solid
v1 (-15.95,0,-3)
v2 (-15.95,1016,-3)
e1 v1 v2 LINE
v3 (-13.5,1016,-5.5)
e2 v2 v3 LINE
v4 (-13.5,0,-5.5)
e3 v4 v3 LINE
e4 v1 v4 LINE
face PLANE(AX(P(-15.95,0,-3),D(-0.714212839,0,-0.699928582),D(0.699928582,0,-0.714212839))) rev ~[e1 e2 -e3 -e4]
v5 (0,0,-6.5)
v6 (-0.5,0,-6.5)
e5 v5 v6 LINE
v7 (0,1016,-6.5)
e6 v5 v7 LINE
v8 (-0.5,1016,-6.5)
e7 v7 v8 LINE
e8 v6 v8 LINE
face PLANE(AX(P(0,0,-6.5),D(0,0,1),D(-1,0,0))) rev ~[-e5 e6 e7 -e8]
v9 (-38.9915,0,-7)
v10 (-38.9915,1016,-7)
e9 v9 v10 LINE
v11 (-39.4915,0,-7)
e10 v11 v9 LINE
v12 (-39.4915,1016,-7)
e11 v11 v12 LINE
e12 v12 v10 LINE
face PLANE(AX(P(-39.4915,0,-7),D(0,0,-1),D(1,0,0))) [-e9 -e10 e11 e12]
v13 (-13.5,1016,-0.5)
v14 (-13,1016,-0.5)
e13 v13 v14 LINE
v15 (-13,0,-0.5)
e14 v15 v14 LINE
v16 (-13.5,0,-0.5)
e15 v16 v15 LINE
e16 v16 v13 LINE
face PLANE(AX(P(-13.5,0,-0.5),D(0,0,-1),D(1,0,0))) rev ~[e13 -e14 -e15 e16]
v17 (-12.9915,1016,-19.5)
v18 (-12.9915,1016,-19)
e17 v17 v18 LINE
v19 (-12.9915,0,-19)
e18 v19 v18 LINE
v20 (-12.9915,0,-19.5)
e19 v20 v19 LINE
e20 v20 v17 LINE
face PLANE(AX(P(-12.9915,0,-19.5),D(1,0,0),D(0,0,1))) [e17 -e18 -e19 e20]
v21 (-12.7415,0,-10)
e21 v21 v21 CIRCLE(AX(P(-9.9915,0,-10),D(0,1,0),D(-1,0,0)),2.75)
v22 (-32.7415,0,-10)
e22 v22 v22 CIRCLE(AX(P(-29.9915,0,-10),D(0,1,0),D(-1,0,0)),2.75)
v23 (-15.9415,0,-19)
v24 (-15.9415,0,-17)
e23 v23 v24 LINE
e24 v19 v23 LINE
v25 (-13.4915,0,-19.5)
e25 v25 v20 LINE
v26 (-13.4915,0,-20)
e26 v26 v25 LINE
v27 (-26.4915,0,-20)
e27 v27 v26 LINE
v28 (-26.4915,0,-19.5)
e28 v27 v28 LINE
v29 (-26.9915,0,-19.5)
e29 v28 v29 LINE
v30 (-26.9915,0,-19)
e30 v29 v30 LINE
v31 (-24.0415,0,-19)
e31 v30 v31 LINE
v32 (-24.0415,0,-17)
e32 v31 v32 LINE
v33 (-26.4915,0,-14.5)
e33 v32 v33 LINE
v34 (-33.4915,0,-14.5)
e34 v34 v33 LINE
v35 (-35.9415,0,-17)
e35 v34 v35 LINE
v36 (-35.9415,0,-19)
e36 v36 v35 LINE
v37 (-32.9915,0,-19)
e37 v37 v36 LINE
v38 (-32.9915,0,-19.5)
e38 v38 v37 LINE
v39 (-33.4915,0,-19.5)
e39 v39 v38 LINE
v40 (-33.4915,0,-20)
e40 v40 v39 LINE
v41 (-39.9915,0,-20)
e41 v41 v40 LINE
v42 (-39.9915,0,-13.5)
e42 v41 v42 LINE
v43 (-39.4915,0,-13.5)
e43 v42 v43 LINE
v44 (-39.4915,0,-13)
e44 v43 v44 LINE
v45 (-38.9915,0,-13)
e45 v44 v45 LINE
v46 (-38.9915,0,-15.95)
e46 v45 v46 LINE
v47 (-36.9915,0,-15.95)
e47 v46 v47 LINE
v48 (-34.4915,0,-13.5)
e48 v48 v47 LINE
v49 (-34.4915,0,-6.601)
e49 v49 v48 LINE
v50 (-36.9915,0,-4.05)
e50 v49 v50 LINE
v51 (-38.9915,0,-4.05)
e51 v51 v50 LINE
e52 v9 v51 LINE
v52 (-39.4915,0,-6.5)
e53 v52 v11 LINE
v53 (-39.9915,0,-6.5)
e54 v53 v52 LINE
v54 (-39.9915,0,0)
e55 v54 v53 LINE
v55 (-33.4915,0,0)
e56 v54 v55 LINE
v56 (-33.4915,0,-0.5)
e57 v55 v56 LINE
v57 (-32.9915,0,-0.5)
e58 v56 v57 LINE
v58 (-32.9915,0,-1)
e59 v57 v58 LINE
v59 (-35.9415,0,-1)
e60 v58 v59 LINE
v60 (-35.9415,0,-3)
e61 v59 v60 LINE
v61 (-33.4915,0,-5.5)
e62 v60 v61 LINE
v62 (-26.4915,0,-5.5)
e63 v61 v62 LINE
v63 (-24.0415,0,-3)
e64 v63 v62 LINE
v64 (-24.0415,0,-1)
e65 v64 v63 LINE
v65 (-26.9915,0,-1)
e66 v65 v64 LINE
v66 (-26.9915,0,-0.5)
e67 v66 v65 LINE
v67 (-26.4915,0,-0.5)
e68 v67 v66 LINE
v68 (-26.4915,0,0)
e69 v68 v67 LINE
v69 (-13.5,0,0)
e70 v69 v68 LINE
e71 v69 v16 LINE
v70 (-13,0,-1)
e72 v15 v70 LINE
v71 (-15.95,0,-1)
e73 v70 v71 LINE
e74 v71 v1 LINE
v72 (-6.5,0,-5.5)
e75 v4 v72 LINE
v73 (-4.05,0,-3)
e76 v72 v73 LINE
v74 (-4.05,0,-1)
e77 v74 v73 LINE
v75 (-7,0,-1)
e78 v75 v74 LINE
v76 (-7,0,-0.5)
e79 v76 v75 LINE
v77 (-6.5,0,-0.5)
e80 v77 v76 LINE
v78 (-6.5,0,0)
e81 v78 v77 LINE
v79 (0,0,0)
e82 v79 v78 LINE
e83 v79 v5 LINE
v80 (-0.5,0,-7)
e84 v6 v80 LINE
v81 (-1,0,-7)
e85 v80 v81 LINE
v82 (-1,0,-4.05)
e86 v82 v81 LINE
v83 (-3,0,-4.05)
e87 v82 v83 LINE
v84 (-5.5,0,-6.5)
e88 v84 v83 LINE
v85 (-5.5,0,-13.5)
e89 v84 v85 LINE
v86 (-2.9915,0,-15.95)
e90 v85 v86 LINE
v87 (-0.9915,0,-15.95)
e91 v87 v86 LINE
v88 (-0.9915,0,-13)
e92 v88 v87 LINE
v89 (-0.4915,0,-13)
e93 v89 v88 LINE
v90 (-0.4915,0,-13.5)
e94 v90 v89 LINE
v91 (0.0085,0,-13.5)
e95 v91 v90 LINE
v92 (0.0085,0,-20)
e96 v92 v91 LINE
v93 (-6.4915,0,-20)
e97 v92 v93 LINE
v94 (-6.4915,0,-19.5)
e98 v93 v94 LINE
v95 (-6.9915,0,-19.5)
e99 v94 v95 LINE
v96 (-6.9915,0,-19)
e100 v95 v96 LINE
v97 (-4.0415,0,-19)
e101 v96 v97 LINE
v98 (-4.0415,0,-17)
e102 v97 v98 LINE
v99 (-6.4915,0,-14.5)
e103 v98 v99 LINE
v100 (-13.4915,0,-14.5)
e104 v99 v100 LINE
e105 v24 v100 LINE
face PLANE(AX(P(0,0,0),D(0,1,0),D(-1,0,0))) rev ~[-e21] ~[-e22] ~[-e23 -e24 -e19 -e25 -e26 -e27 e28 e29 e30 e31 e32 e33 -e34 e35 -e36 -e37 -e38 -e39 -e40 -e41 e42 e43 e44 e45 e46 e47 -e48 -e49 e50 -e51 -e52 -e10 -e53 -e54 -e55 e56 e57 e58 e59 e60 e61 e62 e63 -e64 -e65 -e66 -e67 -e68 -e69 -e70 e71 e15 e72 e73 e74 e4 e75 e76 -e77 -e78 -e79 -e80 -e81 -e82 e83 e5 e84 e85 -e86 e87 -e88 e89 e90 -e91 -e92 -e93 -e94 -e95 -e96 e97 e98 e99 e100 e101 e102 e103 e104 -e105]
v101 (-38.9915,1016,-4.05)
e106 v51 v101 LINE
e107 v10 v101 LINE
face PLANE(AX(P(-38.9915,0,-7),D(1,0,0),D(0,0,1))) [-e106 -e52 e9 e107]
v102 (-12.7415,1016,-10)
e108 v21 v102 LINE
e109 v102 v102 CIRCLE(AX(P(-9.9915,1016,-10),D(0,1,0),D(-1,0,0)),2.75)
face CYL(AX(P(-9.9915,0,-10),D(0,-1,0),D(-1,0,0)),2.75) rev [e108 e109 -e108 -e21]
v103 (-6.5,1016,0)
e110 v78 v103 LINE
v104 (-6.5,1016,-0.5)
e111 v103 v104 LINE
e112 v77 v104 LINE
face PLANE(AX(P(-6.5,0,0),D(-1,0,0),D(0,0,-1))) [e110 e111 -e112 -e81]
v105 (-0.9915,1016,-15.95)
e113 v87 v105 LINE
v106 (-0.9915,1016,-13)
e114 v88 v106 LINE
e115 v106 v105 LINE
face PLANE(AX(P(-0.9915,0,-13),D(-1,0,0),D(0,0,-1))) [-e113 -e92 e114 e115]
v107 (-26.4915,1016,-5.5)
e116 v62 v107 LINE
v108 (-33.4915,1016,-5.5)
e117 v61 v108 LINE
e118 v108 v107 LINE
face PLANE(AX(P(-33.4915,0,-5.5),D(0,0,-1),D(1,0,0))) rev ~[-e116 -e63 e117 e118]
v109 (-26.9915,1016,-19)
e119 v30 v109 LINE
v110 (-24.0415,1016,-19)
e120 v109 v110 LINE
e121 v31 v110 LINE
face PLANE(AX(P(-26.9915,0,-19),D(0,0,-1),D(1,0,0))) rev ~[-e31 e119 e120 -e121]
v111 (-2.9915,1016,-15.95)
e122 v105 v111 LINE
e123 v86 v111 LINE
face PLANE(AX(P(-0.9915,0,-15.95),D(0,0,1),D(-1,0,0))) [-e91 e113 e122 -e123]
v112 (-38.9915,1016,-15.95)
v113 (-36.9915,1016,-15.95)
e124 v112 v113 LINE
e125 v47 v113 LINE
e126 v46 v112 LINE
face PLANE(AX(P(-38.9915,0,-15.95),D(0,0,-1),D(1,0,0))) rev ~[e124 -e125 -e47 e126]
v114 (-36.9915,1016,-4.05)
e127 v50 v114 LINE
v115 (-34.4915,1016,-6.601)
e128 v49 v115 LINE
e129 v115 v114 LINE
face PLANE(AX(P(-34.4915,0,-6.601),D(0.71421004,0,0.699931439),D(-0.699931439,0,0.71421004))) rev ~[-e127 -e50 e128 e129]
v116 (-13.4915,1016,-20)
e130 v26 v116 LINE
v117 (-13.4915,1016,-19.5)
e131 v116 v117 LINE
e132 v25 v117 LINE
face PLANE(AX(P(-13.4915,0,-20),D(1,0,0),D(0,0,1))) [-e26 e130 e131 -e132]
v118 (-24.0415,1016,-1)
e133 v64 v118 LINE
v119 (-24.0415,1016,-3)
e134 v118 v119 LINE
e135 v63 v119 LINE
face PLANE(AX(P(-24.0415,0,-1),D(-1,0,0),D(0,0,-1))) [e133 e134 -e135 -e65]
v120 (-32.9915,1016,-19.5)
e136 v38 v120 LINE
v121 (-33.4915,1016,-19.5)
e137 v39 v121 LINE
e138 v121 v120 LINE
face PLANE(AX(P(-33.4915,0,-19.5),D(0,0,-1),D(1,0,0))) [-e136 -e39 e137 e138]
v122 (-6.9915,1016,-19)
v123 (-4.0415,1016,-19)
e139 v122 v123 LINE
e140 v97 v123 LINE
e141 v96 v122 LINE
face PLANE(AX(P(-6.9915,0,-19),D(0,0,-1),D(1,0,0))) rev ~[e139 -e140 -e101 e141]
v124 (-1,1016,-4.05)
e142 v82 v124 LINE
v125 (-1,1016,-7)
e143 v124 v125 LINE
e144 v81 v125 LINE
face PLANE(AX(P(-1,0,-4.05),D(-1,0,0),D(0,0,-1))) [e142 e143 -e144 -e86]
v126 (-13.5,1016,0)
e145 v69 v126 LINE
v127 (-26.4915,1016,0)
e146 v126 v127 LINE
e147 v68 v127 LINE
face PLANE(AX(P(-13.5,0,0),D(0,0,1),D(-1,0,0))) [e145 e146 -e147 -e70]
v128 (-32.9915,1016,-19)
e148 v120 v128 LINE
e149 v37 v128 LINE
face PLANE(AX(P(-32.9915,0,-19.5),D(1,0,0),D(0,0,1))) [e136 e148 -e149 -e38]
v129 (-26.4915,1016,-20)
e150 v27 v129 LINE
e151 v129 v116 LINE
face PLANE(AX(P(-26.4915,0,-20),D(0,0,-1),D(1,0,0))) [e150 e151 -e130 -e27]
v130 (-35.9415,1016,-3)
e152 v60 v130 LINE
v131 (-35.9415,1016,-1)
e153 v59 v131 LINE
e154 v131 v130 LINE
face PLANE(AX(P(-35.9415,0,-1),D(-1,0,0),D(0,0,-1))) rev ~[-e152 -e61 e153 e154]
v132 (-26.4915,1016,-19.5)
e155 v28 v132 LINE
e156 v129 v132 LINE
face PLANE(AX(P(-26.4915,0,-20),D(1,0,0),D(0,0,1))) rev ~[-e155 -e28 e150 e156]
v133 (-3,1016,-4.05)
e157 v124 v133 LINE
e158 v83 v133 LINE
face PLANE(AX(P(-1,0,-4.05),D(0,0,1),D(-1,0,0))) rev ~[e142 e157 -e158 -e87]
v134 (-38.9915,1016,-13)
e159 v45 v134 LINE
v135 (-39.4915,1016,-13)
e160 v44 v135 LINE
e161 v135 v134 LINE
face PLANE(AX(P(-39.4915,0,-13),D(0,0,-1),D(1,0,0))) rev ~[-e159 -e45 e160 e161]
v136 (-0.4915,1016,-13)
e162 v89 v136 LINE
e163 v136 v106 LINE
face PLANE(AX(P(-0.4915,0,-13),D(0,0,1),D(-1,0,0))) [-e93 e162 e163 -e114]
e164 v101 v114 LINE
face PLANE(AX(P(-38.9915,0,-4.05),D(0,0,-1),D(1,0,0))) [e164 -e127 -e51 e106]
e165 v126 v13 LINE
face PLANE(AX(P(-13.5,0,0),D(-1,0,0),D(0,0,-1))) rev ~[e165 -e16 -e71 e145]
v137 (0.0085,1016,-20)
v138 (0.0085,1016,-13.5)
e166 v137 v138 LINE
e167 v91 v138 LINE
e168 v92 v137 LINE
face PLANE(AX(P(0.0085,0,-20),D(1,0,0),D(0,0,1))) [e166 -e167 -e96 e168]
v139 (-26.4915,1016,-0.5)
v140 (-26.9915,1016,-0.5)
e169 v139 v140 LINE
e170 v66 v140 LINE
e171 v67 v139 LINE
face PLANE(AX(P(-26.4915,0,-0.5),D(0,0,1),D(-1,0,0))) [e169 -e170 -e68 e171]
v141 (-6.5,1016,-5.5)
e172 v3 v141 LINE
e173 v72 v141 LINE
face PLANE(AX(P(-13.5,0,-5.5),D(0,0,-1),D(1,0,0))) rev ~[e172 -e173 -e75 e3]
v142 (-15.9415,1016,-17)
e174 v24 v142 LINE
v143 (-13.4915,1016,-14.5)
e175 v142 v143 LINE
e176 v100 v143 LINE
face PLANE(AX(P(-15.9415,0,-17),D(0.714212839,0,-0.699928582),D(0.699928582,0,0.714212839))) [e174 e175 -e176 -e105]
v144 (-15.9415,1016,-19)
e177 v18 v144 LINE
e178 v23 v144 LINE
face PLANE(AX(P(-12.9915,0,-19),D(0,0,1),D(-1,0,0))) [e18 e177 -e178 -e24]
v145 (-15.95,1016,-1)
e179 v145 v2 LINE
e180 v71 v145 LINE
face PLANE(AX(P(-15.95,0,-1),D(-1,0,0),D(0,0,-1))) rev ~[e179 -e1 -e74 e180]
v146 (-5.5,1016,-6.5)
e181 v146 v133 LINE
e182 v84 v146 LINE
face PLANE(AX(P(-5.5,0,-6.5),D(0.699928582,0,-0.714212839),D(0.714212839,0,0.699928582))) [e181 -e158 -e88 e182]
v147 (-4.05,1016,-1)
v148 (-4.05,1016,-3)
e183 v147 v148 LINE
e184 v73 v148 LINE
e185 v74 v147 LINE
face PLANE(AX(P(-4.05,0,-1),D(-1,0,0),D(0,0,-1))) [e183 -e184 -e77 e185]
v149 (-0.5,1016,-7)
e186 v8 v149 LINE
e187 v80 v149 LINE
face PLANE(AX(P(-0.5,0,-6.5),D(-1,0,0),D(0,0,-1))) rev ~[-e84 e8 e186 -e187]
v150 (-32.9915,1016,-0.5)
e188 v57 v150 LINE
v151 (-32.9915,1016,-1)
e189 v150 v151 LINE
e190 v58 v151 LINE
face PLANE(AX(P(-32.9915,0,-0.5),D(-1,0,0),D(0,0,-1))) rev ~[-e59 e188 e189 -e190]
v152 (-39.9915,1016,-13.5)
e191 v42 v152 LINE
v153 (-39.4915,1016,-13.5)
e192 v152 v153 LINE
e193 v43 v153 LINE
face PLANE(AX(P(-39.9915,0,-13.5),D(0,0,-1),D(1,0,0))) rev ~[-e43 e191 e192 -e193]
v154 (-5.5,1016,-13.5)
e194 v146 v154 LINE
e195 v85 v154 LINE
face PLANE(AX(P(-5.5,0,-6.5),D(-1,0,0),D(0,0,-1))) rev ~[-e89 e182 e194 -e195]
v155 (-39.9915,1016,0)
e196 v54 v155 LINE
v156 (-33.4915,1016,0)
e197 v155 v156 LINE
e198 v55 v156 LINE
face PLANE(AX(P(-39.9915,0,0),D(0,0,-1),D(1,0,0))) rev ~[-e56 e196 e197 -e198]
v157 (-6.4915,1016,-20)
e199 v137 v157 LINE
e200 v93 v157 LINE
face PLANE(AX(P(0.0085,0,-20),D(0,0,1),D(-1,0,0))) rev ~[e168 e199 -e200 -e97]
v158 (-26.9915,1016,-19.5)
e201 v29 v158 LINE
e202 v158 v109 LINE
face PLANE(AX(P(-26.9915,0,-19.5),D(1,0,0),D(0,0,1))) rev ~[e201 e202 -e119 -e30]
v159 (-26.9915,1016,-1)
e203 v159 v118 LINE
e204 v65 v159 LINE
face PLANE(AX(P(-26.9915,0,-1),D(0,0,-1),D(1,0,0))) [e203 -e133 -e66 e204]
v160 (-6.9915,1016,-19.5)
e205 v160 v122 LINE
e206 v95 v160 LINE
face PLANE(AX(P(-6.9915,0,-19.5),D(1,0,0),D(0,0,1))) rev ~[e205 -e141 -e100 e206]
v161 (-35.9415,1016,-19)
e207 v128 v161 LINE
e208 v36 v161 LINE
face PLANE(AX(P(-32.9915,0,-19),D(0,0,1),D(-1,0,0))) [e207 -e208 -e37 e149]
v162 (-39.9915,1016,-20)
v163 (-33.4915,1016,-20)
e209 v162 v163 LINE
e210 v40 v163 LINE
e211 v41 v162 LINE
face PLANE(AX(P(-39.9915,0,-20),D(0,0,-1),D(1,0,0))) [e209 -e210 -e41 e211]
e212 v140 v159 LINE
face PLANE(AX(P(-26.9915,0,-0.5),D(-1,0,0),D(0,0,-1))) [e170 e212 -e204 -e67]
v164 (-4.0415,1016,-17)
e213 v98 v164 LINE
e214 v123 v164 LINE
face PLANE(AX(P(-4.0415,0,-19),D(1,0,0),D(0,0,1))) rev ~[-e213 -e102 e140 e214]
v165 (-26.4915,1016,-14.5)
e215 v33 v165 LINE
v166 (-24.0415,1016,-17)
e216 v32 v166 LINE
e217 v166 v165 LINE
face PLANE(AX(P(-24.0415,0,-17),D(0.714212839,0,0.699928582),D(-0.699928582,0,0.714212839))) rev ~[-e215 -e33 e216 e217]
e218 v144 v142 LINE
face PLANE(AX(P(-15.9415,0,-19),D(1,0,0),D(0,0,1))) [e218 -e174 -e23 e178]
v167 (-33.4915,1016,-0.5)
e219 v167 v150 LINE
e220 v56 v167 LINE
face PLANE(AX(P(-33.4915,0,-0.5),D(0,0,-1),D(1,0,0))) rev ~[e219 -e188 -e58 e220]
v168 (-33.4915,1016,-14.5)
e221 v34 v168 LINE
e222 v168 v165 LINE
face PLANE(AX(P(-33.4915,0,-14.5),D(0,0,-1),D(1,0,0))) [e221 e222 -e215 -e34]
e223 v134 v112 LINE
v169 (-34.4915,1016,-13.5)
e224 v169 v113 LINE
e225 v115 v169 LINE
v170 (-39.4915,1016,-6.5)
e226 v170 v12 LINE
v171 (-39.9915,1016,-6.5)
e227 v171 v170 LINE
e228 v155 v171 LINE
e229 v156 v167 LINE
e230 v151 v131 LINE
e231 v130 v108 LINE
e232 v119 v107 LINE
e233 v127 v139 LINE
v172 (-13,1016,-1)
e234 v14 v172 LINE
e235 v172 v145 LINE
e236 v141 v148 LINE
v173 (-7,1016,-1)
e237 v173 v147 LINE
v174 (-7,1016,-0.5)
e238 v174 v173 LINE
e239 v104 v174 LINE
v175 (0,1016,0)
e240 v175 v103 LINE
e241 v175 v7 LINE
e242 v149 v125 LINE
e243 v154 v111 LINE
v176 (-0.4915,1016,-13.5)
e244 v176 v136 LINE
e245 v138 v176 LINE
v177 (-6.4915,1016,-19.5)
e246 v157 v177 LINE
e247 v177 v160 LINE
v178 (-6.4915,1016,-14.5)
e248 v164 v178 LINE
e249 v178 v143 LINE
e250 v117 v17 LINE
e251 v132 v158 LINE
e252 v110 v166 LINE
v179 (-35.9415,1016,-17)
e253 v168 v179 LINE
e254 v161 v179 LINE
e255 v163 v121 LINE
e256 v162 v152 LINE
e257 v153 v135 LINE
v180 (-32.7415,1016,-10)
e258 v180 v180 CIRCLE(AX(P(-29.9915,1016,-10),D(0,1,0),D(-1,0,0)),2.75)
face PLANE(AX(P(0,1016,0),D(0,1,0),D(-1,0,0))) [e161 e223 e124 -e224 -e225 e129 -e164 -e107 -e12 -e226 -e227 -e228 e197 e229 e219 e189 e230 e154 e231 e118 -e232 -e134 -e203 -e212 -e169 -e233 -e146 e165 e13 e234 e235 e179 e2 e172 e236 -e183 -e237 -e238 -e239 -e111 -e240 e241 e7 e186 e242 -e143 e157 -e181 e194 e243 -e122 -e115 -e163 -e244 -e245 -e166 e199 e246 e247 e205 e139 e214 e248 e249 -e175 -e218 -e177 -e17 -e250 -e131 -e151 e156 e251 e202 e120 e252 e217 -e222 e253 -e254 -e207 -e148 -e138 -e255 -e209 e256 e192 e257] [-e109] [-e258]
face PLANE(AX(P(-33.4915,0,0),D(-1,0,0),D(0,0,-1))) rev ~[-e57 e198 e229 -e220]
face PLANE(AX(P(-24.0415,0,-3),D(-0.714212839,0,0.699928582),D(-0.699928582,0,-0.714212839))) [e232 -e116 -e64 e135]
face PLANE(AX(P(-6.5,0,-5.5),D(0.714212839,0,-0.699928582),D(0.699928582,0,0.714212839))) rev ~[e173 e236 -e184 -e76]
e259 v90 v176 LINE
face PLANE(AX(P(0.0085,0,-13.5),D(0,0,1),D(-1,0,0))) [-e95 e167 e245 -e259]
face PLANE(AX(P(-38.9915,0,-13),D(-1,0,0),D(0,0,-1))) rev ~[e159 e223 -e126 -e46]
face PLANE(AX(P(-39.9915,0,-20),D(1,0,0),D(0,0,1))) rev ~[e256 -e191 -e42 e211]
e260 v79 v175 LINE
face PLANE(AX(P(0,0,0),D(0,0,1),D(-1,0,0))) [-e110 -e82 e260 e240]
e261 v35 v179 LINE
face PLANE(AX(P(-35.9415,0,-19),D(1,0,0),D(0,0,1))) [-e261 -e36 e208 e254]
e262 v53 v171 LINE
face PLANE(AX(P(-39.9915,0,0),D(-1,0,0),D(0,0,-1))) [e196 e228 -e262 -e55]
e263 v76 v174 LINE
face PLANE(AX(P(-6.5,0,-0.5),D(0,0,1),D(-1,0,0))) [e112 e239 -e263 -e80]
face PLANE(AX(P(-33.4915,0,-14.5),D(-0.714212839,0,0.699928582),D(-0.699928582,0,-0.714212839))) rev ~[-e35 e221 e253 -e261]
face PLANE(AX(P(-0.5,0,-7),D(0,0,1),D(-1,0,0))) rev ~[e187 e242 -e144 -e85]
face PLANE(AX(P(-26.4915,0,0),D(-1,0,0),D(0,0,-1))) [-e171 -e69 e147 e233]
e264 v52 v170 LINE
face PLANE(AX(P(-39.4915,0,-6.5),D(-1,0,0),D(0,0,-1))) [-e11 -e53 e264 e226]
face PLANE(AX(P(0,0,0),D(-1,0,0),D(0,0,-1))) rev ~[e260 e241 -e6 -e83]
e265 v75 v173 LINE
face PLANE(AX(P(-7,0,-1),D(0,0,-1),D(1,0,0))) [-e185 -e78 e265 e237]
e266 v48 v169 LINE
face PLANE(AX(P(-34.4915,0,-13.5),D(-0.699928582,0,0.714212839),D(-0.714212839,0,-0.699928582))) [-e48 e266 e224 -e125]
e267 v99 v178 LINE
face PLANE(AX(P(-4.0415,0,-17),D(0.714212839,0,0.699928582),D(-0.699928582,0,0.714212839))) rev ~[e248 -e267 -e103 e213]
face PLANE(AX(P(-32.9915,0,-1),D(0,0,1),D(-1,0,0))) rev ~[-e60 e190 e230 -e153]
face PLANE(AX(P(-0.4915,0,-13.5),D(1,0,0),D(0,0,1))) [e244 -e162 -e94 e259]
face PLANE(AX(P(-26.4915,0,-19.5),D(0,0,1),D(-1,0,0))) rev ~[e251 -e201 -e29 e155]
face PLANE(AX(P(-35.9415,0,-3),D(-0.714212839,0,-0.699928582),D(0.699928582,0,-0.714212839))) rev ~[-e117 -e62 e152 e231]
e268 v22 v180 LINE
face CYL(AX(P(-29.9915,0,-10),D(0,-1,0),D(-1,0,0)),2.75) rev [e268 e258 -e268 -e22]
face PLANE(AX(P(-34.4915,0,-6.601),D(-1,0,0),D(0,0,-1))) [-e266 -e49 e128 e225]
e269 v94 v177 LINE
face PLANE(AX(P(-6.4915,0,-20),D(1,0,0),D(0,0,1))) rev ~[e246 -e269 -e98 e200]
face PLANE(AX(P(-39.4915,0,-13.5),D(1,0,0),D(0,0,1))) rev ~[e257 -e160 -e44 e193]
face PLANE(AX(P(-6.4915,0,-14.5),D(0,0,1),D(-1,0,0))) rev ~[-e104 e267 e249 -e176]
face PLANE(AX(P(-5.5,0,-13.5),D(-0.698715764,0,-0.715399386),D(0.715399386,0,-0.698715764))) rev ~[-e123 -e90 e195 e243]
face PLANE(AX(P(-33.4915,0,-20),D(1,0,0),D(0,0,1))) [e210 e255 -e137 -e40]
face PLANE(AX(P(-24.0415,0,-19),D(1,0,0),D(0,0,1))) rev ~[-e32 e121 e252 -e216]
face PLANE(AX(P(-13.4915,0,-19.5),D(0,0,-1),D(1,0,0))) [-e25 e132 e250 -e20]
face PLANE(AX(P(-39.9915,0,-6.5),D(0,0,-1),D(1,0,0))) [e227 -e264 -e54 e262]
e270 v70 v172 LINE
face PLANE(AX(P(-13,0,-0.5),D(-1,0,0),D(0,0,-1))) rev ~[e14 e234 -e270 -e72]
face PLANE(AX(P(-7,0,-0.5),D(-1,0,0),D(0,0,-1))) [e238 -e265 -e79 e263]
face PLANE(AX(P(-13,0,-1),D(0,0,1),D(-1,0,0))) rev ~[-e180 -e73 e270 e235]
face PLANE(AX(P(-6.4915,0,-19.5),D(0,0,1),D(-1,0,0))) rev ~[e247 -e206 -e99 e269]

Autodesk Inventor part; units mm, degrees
ref_plane "YZ Plane" through (0, 0, 0) normal (1, 0, 0) x (0, 1, 0)
ref_plane "XZ Plane" through (0, 0, 0) normal (0, 1, 0) x (-1, 0, 0)
ref_plane "XY Plane" through (0, 0, 0) normal (0, 0, 1) x (1, 0, 0)
sketch "Sketch1" plane through (0, 0, 0) normal (0, 1, 0) x (-1, 0, 0)
  circle A0 centre (29.9915, -10) radius 2.75
  circle A1 centre (9.9915, -10) radius 2.75
  line L0 (0, 0) -> (0, -6.5)
  line L1 (-0.0085, -20) -> (-0.0085, -13.5)
  line L2 (0, -6.5) -> (0.5, -6.5)
  line L3 (0.5, -6.5) -> (0.5, -7)
  line L4 (0.5, -7) -> (1, -7)
  line L5 (-0.0085, -13.5) -> (0.4915, -13.5)
  line L6 (0.4915, -13.5) -> (0.4915, -13)
  line L7 (0.4915, -13) -> (0.9915, -13)
  line L8 (1, -4.05) -> (3, -4.05)
  line L9 (0.9915, -15.95) -> (2.9915, -15.95)
  line L10 (5.5, -6.5) -> (5.5, -13.5)
  line L11 (5.5, -13.5) -> (2.9915, -15.95)
  line L12 (5.5, -6.5) -> (3, -4.05)
  line L13 (1, -4.05) -> (1, -7)
  line L14 (0.9915, -13) -> (0.9915, -15.95)
  line L15 (-0.0085, -20) -> (6.4915, -20)
  line L16 (6.4915, -20) -> (6.4915, -19.5)
  line L17 (6.4915, -19.5) -> (6.9915, -19.5)
  line L18 (6.9915, -19.5) -> (6.9915, -19)
  line L19 (6.9915, -19) -> (4.0415, -19)
  line L20 (4.0415, -19) -> (4.0415, -17)
  line L21 (13.4915, -20) -> (13.4915, -19.5)
  line L22 (13.4915, -19.5) -> (12.9915, -19.5)
  line L23 (12.9915, -19.5) -> (12.9915, -19)
  line L24 (12.9915, -19) -> (15.9415, -19)
  line L25 (15.9415, -19) -> (15.9415, -17)
  line L26 (15.9415, -17) -> (13.4915, -14.5)
  line L27 (6.4915, -14.5) -> (13.4915, -14.5)
  line L28 (4.0415, -17) -> (6.4915, -14.5)
  line L29 (39.9915, 0) -> (39.9915, -6.5)
  line L30 (39.9915, -6.5) -> (39.4915, -6.5)
  line L31 (39.4915, -6.5) -> (39.4915, -7)
  line L32 (39.4915, -7) -> (38.9915, -7)
  line L33 (38.9915, -7) -> (38.9915, -4.05)
  line L34 (38.9915, -4.05) -> (36.9915, -4.05)
  line L35 (39.9915, -20) -> (39.9915, -13.5)
  line L36 (39.9915, -13.5) -> (39.4915, -13.5)
  line L37 (39.4915, -13.5) -> (39.4915, -13)
  line L38 (39.4915, -13) -> (38.9915, -13)
  line L39 (38.9915, -13) -> (38.9915, -15.95)
  line L40 (38.9915, -15.95) -> (36.9915, -15.95)
  line L41 (34.4915, -6.601) -> (34.4915, -13.5)
  line L42 (34.4915, -13.5) -> (36.9915, -15.95)
  line L43 (34.4915, -6.601) -> (36.9915, -4.05)
  line L44 (39.9915, -20) -> (33.4915, -20)
  line L45 (33.4915, -20) -> (33.4915, -19.5)
  line L46 (33.4915, -19.5) -> (32.9915, -19.5)
  line L47 (32.9915, -19.5) -> (32.9915, -19)
  line L48 (32.9915, -19) -> (35.9415, -19)
  line L49 (35.9415, -19) -> (35.9415, -17)
  line L50 (26.4915, -20) -> (26.4915, -19.5)
  line L51 (26.4915, -19.5) -> (26.9915, -19.5)
  line L52 (26.9915, -19.5) -> (26.9915, -19)
  line L53 (26.9915, -19) -> (24.0415, -19)
  line L54 (24.0415, -19) -> (24.0415, -17)
  line L55 (33.4915, -14.5) -> (26.4915, -14.5)
  line L56 (24.0415, -17) -> (26.4915, -14.5)
  line L57 (33.4915, -14.5) -> (35.9415, -17)
  line L58 (26.4915, -20) -> (13.4915, -20)
  line L59 (39.9915, 0) -> (33.4915, 0)
  line L60 (33.4915, 0) -> (33.4915, -0.5)
  line L61 (33.4915, -0.5) -> (32.9915, -0.5)
  line L62 (32.9915, -0.5) -> (32.9915, -1)
  line L63 (32.9915, -1) -> (35.9415, -1)
  line L64 (35.9415, -1) -> (35.9415, -3)
  line L65 (26.4915, 0) -> (26.4915, -0.5)
  line L66 (26.4915, -0.5) -> (26.9915, -0.5)
  line L67 (26.9915, -0.5) -> (26.9915, -1)
  line L68 (26.9915, -1) -> (24.0415, -1)
  line L69 (24.0415, -1) -> (24.0415, -3)
  line L70 (33.4915, -5.5) -> (26.4915, -5.5)
  line L71 (24.0415, -3) -> (26.4915, -5.5)
  line L72 (35.9415, -3) -> (33.4915, -5.5)
  line L73 (0, 0) -> (6.5, 0)
  line L74 (6.5, 0) -> (6.5, -0.5)
  line L75 (6.5, -0.5) -> (7, -0.5)
  line L76 (7, -0.5) -> (7, -1)
  line L77 (7, -1) -> (4.05, -1)
  line L78 (4.05, -1) -> (4.05, -3)
  line L79 (13.5, 0) -> (13.5, -0.5)
  line L80 (13.5, -0.5) -> (13, -0.5)
  line L81 (13, -0.5) -> (13, -1)
  line L82 (13, -1) -> (15.95, -1)
  line L83 (15.95, -1) -> (15.95, -3)
  line L84 (13.5, -5.5) -> (6.5, -5.5)
  line L85 (6.5, -5.5) -> (4.05, -3)
  line L86 (15.95, -3) -> (13.5, -5.5)
  line L87 (13.5, 0) -> (26.4915, 0)
  dimension "d0" = 40
  dimension "d1" = 20
  dimension "d2" = 5.5
  dimension "d3" = 5.5
  dimension "d4" = 20
  dimension "d11" = 6.5
  dimension "d12" = 6.5
  dimension "d13" = 0.5
  dimension "d14" = 0.5
  dimension "d15" = 0.5
  dimension "d16" = 0.5
  dimension "d17" = 0.5
  dimension "d18" = 0.5
  dimension "d19" = 5.5
  dimension "d20" = 11.9
  dimension "d21" = 6.5
  dimension "d22" = 0.5
  dimension "d23" = 0.5
  dimension "d24" = 0.5
  dimension "d25" = 0.5
  dimension "d26" = 0.5
  dimension "d27" = 0.5
  dimension "d28" = 7
  dimension "d29" = 11.9
  dimension "d31" = 4.05
  dimension "d32" = 2.95
  dimension "d34" = 2
  dimension "d35" = 2
  dimension "d36" = 2
  dimension "d37" = 2
  dimension "d39" = 7
  dimension "d40" = 6.5
  dimension "d41" = 0.5
  dimension "d42" = 0.5
  dimension "d43" = 0.5
  dimension "d44" = 2.95
  dimension "d45" = 2
  dimension "d46" = 6.5
  dimension "d47" = 0.5
  dimension "d48" = 0.5
  dimension "d49" = 0.5
  dimension "d50" = 2.95
  dimension "d51" = 2
  dimension "d52" = 5.5
  dimension "d53" = 6.5
  dimension "d54" = 0.5
  dimension "d55" = 0.5
  dimension "d56" = 0.5
  dimension "d57" = 2.95
  dimension "d58" = 2
  dimension "d59" = 0.5
  dimension "d60" = 0.5
  dimension "d61" = 0.5
  dimension "d62" = 2.95
  dimension "d63" = 2
  dimension "d64" = 7
  dimension "d66" = 6.5
  dimension "d67" = 0.5
  dimension "d68" = 0.5
  dimension "d69" = 0.5
  dimension "d70" = 2.95
  dimension "d71" = 2
  dimension "d72" = 0.5
  dimension "d73" = 0.5
extrude "Extrusion1" add sketch "Sketch1" along normal blind 1016
properties part number "Tslot_2040extrusion_40inch"
